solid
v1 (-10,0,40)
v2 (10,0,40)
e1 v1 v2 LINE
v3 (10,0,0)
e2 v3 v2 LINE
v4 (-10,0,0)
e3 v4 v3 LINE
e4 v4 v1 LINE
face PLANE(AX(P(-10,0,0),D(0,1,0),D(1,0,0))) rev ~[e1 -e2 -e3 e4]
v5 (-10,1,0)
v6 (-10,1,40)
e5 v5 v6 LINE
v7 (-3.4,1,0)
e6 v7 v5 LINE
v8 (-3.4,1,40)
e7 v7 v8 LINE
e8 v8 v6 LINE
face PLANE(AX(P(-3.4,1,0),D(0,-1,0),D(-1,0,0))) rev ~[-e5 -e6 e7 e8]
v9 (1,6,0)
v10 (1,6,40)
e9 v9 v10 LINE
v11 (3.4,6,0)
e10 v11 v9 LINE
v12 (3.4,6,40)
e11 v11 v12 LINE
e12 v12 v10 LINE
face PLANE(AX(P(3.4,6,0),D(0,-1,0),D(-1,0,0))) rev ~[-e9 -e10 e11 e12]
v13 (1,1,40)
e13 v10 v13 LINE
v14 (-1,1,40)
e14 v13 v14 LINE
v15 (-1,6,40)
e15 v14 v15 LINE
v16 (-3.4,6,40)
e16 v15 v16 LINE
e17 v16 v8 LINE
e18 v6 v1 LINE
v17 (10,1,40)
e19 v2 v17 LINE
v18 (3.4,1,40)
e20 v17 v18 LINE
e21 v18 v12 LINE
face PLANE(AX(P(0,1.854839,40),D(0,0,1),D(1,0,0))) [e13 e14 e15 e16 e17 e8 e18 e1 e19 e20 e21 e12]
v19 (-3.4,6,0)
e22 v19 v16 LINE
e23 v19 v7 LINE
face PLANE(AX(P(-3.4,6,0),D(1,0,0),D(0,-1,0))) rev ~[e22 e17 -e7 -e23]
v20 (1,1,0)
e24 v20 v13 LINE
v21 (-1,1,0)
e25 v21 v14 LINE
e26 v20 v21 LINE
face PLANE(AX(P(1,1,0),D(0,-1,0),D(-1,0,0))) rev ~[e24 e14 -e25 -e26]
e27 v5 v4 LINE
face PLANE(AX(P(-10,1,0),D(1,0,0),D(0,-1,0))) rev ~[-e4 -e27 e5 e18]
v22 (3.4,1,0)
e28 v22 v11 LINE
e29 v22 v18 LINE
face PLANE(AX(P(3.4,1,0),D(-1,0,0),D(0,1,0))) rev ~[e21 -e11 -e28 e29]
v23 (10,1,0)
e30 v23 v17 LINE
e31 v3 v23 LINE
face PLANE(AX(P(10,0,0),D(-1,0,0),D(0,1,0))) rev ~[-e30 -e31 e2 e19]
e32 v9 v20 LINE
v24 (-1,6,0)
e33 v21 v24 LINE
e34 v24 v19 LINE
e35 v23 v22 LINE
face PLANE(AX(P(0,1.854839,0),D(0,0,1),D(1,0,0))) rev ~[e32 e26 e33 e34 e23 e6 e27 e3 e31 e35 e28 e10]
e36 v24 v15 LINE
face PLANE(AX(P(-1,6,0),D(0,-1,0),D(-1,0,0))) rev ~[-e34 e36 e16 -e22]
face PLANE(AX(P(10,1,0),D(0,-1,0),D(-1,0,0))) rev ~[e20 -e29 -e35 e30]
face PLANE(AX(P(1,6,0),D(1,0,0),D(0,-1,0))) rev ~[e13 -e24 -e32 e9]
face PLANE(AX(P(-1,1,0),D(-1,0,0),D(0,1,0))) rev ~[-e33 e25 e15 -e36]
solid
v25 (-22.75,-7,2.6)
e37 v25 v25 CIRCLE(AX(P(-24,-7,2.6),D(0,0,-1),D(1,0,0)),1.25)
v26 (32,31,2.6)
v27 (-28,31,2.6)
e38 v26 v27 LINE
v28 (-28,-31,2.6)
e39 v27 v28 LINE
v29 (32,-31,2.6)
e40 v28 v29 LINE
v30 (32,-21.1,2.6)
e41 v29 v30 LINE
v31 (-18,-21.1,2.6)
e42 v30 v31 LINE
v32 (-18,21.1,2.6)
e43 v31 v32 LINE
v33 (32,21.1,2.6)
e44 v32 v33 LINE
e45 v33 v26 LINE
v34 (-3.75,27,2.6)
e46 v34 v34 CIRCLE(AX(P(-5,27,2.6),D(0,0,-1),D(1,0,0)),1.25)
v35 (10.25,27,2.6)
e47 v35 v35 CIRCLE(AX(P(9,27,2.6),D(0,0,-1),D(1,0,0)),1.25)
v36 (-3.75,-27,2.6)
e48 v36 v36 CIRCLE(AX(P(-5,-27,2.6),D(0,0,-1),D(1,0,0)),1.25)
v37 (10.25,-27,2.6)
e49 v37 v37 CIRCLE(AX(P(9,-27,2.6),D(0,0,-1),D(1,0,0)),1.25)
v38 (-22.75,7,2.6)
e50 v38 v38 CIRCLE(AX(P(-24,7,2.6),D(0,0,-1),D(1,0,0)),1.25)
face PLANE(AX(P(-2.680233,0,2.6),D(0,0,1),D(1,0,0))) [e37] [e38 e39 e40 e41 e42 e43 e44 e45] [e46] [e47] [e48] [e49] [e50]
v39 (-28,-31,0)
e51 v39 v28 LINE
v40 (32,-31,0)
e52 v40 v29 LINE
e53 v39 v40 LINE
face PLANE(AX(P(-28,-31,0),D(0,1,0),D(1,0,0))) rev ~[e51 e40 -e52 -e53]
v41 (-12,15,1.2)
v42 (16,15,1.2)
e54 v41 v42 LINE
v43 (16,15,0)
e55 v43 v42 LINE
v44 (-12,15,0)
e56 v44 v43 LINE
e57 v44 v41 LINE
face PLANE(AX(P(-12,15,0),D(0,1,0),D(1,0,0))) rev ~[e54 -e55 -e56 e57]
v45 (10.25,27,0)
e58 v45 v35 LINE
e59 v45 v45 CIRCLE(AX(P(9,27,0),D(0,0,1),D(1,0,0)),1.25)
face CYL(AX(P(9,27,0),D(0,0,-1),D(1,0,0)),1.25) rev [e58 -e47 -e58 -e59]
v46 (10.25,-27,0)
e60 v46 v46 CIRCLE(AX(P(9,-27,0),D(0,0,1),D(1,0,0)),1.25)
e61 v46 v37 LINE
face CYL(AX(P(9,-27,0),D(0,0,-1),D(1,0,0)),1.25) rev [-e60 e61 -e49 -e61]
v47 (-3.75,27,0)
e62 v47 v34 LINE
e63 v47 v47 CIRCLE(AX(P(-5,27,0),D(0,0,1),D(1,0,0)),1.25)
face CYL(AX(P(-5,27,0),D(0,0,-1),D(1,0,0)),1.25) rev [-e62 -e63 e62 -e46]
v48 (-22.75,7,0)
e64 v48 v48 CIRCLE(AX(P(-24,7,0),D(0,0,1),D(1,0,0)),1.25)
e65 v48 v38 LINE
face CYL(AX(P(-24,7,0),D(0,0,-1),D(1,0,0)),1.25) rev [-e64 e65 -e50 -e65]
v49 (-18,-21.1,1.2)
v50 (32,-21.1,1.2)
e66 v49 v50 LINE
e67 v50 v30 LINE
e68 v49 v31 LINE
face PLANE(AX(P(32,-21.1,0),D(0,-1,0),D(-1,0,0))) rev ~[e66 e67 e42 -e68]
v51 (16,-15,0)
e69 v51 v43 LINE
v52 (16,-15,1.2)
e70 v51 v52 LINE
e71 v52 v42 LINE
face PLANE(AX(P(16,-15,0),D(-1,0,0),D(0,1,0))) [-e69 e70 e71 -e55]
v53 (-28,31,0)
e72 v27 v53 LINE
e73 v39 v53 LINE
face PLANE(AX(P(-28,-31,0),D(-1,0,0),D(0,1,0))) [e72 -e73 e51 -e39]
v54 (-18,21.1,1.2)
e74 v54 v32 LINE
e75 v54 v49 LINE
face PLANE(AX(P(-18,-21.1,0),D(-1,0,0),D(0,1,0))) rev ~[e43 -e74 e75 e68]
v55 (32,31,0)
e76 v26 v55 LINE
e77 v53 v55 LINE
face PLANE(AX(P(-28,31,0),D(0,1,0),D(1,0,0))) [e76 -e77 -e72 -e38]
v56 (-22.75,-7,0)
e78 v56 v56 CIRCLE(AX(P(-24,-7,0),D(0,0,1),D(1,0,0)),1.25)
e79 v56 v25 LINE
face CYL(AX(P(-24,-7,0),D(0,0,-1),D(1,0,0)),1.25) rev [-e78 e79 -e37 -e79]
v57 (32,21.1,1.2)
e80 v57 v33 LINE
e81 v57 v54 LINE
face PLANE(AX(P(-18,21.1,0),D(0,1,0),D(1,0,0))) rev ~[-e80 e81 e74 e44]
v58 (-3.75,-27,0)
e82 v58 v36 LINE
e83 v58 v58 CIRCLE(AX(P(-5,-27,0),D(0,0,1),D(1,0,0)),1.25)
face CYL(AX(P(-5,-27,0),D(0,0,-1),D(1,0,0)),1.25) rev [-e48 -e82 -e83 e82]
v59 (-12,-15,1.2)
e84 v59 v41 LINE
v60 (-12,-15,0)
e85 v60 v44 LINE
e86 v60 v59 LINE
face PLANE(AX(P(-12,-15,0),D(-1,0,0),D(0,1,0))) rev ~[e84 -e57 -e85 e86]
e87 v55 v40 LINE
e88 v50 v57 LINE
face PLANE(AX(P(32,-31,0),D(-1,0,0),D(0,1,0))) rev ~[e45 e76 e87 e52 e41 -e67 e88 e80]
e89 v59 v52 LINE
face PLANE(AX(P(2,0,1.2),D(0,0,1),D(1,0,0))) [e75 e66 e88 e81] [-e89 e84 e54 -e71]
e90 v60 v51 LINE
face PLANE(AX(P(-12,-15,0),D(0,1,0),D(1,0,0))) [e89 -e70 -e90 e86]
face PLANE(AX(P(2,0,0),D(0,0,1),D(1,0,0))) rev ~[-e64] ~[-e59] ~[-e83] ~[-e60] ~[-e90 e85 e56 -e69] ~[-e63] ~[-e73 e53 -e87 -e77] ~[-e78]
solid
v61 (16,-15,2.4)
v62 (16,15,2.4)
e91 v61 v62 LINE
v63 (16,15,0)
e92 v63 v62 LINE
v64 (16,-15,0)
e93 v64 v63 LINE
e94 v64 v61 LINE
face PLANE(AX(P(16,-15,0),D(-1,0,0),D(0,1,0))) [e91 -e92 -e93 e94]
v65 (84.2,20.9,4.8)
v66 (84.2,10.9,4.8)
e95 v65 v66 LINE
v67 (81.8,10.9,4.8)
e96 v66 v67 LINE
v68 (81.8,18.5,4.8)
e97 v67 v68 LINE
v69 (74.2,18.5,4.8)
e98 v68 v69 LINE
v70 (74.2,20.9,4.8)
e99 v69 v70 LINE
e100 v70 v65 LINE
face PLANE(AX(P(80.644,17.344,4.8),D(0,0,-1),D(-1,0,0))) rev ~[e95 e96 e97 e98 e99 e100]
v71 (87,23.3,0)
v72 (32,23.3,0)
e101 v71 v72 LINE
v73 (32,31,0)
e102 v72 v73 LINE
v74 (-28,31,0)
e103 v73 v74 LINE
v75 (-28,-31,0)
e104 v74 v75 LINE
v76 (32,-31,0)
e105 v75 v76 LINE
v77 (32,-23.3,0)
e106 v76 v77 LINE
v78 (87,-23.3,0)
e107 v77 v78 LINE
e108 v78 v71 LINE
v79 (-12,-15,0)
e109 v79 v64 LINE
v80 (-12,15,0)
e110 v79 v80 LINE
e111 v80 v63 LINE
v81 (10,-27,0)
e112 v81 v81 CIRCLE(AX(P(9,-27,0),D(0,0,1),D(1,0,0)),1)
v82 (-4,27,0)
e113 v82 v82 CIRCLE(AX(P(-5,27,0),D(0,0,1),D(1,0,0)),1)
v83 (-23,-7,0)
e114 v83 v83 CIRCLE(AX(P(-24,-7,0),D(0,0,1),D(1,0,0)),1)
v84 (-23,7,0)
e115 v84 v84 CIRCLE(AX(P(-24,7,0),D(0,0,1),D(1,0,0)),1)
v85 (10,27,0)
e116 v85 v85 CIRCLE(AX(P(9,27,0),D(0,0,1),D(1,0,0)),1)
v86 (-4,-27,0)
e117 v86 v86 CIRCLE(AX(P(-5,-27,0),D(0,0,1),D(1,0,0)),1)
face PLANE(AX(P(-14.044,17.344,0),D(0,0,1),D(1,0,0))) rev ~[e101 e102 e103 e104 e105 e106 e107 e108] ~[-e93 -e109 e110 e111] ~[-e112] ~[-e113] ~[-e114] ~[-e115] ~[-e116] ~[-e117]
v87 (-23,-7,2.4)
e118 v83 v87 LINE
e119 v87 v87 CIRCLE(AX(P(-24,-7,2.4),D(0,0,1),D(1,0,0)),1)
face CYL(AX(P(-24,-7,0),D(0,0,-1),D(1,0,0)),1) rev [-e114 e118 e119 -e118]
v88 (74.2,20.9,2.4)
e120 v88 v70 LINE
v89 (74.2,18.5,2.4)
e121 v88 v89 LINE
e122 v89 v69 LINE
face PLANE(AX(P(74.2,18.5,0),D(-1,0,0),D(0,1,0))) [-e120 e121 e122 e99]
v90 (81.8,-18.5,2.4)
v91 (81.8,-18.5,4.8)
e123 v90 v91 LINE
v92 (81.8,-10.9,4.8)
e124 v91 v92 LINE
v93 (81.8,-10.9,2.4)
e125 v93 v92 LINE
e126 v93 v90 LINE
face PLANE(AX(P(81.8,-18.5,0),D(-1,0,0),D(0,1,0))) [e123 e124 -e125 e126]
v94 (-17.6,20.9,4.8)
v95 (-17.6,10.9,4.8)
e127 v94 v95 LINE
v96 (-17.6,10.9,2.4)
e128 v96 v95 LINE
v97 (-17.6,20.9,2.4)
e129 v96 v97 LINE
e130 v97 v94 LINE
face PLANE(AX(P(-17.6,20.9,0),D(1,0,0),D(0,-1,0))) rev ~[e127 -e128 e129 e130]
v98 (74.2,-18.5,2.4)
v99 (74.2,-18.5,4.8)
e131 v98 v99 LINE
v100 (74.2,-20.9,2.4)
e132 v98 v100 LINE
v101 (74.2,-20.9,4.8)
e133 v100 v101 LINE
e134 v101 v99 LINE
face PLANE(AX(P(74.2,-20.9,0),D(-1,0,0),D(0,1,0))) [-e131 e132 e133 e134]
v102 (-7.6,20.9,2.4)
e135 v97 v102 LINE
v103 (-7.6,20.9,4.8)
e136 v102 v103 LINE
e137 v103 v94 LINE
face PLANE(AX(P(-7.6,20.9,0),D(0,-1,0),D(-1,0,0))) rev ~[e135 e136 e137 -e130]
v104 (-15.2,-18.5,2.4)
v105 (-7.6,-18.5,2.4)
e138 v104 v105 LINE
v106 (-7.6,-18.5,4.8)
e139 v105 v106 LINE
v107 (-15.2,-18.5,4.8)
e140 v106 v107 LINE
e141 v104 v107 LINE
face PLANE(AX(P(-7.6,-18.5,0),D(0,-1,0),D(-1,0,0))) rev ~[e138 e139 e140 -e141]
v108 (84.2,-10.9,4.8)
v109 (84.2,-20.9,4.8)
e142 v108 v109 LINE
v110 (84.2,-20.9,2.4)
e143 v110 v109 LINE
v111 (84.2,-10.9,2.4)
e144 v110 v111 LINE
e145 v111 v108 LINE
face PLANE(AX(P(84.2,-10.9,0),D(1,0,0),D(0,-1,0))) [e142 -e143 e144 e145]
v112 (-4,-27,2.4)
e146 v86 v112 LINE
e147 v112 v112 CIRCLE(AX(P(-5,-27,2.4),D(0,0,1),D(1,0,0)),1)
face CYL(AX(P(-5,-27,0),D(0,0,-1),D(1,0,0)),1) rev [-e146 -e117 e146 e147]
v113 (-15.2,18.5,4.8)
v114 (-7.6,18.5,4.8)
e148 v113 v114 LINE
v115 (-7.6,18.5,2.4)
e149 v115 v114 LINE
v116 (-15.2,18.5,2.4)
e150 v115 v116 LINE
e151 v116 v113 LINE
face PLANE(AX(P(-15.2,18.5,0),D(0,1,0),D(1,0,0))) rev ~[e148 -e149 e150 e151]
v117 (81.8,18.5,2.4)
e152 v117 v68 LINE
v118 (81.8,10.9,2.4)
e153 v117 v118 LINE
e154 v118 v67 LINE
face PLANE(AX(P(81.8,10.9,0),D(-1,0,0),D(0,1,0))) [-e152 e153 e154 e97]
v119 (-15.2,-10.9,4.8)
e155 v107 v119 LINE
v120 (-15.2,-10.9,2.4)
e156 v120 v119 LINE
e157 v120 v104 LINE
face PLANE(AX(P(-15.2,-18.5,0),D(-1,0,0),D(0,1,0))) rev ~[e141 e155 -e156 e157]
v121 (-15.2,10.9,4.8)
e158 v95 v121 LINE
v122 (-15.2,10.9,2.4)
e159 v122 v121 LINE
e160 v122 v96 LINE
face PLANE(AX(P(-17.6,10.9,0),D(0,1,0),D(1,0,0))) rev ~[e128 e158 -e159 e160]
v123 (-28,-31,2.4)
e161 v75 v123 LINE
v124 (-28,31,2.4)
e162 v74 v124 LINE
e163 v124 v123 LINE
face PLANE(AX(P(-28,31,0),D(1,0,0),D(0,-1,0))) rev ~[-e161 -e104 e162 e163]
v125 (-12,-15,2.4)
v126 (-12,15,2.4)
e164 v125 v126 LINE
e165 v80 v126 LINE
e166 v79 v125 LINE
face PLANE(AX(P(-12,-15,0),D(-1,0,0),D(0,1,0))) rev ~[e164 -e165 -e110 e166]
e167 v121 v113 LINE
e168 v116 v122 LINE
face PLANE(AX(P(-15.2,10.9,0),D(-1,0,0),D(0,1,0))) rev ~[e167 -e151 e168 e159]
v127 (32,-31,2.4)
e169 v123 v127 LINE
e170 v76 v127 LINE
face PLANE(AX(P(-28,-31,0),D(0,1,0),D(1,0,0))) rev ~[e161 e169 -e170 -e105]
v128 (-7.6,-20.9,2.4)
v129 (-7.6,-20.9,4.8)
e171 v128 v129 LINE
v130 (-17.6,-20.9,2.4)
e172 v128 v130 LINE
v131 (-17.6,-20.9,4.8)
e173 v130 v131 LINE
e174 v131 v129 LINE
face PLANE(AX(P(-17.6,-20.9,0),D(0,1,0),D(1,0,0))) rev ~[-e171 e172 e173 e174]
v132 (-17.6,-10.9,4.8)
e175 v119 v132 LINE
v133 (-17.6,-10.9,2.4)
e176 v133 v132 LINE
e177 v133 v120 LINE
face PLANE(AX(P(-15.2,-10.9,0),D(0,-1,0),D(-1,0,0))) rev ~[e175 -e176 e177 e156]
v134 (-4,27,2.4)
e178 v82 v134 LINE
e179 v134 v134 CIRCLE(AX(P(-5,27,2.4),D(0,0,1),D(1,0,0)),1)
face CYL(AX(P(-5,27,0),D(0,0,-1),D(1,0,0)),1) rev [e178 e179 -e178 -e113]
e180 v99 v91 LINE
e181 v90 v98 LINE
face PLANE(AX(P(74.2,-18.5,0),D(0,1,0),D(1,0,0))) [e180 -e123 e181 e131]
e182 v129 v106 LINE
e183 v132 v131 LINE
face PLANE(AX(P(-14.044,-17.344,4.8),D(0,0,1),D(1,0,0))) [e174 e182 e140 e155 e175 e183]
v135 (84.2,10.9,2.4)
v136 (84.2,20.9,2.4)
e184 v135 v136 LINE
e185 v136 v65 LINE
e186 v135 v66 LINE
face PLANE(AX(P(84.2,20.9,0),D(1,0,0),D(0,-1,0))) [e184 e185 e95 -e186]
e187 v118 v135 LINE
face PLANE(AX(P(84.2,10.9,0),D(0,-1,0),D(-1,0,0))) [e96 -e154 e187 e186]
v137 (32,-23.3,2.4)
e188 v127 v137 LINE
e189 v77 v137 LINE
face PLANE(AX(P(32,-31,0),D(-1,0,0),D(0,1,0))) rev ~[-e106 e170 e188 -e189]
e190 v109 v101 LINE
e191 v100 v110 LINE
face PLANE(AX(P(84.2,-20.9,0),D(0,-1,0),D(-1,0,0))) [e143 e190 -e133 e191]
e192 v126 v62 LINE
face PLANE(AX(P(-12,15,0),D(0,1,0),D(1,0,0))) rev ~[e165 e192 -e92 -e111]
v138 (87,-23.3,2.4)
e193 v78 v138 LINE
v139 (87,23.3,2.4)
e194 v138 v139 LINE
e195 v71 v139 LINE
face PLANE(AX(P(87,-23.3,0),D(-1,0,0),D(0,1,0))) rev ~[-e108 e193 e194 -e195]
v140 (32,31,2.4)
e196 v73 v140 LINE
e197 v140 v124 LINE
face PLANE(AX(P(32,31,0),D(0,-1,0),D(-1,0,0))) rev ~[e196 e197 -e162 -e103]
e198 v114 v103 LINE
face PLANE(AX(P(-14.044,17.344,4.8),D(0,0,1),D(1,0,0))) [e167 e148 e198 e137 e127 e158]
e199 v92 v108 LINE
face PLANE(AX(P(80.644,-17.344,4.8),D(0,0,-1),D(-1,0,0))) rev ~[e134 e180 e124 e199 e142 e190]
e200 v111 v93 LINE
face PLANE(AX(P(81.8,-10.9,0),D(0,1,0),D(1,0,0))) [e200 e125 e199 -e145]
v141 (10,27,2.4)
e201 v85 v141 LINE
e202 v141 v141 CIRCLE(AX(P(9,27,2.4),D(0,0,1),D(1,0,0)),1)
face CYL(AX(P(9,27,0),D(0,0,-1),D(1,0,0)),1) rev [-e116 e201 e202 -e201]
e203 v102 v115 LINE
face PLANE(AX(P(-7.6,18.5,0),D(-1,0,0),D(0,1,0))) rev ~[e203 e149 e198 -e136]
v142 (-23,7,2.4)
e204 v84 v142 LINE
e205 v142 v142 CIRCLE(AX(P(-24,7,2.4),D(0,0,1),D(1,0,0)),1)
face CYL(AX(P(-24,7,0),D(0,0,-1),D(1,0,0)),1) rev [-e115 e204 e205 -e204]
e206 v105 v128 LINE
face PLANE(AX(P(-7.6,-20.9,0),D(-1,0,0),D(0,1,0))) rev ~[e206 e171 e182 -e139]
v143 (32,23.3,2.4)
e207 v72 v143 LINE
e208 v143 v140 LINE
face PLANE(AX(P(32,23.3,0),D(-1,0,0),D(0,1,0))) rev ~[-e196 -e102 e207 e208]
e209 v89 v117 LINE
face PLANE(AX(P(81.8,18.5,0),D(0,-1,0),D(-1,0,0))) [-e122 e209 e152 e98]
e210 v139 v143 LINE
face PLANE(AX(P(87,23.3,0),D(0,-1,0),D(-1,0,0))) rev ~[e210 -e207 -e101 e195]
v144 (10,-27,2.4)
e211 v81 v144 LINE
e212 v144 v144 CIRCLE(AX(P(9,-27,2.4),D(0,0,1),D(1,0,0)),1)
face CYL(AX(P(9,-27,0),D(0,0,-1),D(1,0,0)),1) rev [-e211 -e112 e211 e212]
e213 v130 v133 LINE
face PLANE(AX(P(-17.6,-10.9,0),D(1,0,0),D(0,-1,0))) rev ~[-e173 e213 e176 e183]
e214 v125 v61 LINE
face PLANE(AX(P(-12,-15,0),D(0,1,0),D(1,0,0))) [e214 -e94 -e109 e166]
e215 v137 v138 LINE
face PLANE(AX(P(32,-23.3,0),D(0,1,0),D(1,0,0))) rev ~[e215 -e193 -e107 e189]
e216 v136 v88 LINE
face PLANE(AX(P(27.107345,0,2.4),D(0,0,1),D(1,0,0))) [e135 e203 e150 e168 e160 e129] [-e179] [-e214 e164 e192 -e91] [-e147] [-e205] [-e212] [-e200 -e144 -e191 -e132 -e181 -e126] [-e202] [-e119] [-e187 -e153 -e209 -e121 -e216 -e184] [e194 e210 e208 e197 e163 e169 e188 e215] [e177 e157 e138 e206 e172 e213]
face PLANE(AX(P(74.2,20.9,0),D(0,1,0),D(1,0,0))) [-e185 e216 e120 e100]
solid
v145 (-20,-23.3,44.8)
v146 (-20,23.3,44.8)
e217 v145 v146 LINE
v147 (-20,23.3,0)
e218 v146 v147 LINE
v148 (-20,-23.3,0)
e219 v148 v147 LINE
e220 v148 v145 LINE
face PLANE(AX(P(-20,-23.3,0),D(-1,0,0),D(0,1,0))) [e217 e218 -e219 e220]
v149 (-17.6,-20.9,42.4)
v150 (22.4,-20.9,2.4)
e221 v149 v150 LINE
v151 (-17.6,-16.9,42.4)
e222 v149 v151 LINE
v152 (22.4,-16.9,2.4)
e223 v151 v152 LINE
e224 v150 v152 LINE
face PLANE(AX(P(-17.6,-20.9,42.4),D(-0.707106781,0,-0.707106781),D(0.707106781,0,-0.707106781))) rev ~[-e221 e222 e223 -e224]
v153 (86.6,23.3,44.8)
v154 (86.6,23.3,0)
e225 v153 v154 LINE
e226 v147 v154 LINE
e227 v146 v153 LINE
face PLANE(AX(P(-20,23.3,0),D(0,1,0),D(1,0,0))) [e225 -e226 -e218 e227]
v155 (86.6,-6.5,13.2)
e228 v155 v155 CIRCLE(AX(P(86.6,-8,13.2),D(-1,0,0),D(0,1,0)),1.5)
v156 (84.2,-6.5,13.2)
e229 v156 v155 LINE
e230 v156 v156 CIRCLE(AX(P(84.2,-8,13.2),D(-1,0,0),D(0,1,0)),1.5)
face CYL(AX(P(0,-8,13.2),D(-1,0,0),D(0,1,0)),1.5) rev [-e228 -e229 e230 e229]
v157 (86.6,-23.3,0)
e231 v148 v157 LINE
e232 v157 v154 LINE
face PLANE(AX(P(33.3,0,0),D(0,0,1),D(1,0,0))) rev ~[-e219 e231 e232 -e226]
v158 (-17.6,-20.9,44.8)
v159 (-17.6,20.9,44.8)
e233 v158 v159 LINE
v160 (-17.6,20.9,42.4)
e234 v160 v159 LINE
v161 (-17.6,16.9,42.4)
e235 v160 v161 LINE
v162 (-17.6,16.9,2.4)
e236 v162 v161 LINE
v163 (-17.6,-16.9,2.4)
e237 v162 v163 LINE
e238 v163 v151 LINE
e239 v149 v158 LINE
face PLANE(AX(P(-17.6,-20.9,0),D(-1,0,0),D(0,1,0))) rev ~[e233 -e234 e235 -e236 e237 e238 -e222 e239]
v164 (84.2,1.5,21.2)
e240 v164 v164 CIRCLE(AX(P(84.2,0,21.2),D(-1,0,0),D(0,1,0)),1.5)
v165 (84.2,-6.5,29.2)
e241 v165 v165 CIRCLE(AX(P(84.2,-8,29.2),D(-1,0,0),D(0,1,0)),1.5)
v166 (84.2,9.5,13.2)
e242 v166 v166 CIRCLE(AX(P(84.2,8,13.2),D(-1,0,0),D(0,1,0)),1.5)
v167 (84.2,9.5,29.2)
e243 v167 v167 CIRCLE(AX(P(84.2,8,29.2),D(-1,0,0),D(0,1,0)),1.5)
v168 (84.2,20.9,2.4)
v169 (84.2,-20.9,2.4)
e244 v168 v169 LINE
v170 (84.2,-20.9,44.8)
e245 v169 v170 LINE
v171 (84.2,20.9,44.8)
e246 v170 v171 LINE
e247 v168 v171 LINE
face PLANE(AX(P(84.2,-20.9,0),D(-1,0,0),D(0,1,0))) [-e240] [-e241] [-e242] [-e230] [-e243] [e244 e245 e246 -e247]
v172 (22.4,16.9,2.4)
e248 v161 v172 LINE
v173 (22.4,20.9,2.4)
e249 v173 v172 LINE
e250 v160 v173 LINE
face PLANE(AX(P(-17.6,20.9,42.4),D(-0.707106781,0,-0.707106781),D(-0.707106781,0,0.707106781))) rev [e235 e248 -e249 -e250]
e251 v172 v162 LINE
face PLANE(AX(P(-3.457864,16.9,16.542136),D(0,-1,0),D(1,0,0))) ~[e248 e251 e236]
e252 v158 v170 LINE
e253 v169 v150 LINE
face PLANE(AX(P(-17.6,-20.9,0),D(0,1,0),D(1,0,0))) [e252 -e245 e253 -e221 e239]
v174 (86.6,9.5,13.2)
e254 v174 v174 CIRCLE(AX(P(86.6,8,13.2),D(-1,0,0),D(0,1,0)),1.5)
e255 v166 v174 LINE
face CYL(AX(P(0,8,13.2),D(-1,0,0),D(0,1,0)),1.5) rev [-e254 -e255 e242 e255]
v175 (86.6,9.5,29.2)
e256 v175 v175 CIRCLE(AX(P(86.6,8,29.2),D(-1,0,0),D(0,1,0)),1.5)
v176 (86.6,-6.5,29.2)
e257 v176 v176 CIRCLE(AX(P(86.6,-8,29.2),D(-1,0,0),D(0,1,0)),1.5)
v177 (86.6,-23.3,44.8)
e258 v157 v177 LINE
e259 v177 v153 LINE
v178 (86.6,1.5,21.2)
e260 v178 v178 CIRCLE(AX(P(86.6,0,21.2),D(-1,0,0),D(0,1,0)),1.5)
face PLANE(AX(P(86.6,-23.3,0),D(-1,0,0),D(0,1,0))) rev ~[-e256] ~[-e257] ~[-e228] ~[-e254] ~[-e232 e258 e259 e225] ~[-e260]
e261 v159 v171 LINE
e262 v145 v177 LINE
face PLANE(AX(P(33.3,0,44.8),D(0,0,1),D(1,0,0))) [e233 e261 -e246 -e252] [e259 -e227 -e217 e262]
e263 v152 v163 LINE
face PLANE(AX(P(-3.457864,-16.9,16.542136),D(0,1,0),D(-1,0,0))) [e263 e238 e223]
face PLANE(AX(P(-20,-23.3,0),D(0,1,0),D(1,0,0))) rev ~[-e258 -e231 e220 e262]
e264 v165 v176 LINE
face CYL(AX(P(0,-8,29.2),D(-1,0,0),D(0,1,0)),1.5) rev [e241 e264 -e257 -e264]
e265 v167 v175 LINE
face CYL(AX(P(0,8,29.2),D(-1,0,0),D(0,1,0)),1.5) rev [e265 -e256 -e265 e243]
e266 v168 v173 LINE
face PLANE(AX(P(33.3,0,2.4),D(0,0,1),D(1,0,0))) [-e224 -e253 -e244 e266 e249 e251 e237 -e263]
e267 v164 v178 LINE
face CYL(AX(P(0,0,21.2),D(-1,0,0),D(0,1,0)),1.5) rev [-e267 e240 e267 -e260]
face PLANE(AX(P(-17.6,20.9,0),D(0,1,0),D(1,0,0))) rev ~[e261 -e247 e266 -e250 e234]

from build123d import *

# Parameters (mm, degrees)
SKETCH_W             = 106.6
SKETCH_H             = 46.6
PAD_DEPTH            = 2.4
SKETCH001_W          = 106.6
SKETCH001_H          = 46.6
SKETCH001_W_2        = 101.8
SKETCH001_H_2        = 41.8
PAD001_DEPTH         = 44.8
PAD002_DEPTH         = 4
SKETCH003_R          = 1.5
POCKET_DEPTH         = 86.601
PAD003_DEPTH         = 40
SKETCH005_R          = 1
SKETCH005_W          = 28
SKETCH005_H          = 30
PAD005_DEPTH         = 2.4
PAD006_DEPTH         = 4.8
SKETCH007_W          = 60
SKETCH007_H          = 62
SKETCH007_R          = 1.25
SKETCH007_W_2        = 28
SKETCH007_H_2        = 30
PAD007_DEPTH         = 1.2
PAD008_DEPTH         = 2.6
SKETCH009_R          = 1.25
POCKET001_DEPTH      = 0.001
POCKET001_DEPTH_BACK = 2.601


with BuildPart() as box:
    # Sketch → Pad (new body)
    with BuildSketch(Plane.XY):
        with Locations((33.3, 0)):
            Rectangle(SKETCH_W, SKETCH_H)
    extrude(amount=PAD_DEPTH)

    # Sketch001 → Pad001 (join)
    with BuildSketch(Plane.XY):
        with Locations((33.3, 0)):
            Rectangle(SKETCH001_W, SKETCH001_H)
        with Locations((33.3, 0)):
            Rectangle(SKETCH001_W_2, SKETCH001_H_2, mode=Mode.SUBTRACT)
    extrude(amount=PAD001_DEPTH)

    # Sketch002 → Pad002 (join)
    with BuildSketch(Plane.XZ.offset(20.9)):
        Polygon((-17.6, 42.4), (22.4, 2.4), (-17.6, 2.4), align=None)
    pad002 = extrude(amount=-PAD002_DEPTH)

    # Mirrored: Pad002 across XZ
    add(pad002.mirror(Plane.XZ))

    # Sketch003 → Pocket (cut, through all)
    with BuildSketch(Plane.YZ):
        with Locations((0, 21.2)):
            Circle(SKETCH003_R)
        with Locations((-8, 13.2)):
            Circle(SKETCH003_R)
        with Locations((8, 29.2)):
            Circle(SKETCH003_R)
        with Locations((-8, 29.2)):
            Circle(SKETCH003_R)
        with Locations((8, 13.2)):
            Circle(SKETCH003_R)
    extrude(amount=POCKET_DEPTH, mode=Mode.SUBTRACT)


with BuildPart() as paper_holder:
    # Sketch004 → Pad003 (new body)
    with BuildSketch(Plane.XY):
        Polygon((-10, 0), (10, 0), (10, 1), (3.4, 1), (3.4, 6), (1, 6), (1, 1), (-1, 1), (-1, 6), (-3.4, 6), (-3.4, 1), (-10, 1), align=None)
    extrude(amount=PAD003_DEPTH)


with BuildPart() as lid:
    # Sketch005 → Pad005 (new body)
    with BuildSketch(Plane.XY):
        Polygon((87, -23.3), (87, 23.3), (32, 23.3), (32, 31), (-28, 31), (-28, -31), (32, -31), (32, -23.3), align=None)
        with Locations((-5, 27)):
            Circle(SKETCH005_R, mode=Mode.SUBTRACT)
        with Locations((9, 27)):
            Circle(SKETCH005_R, mode=Mode.SUBTRACT)
        with Locations((-5, -27)):
            Circle(SKETCH005_R, mode=Mode.SUBTRACT)
        with Locations((9, -27)):
            Circle(SKETCH005_R, mode=Mode.SUBTRACT)
        with Locations((-24, 7)):
            Circle(SKETCH005_R, mode=Mode.SUBTRACT)
        with Locations((-24, -7)):
            Circle(SKETCH005_R, mode=Mode.SUBTRACT)
        with Locations((2, 0)):
            Rectangle(SKETCH005_W, SKETCH005_H, mode=Mode.SUBTRACT)
    extrude(amount=PAD005_DEPTH)

    # Sketch006 → Pad006 (join)
    with BuildSketch(Plane.XY):
        Polygon((-7.6, 20.9), (-17.6, 20.9), (-17.6, 10.9), (-15.2, 10.9), (-15.2, 18.5), (-7.6, 18.5), align=None)
        Polygon((74.2, 20.9), (84.2, 20.9), (84.2, 10.9), (81.8, 10.9), (81.8, 18.5), (74.2, 18.5), align=None)
        Polygon((84.2, -10.9), (84.2, -20.9), (74.2, -20.9), (74.2, -18.5), (81.8, -18.5), (81.8, -10.9), align=None)
        Polygon((-17.6, -10.9), (-17.6, -20.9), (-7.6, -20.9), (-7.6, -18.5), (-15.2, -18.5), (-15.2, -10.9), align=None)
    extrude(amount=PAD006_DEPTH)


with BuildPart() as lid_top:
    # Sketch007 → Pad007 (new body)
    with BuildSketch(Plane.XY):
        with Locations((2, 0)):
            Rectangle(SKETCH007_W, SKETCH007_H)
        with Locations((-5, 27)):
            Circle(SKETCH007_R, mode=Mode.SUBTRACT)
        with Locations((9, 27)):
            Circle(SKETCH007_R, mode=Mode.SUBTRACT)
        with Locations((-5, -27)):
            Circle(SKETCH007_R, mode=Mode.SUBTRACT)
        with Locations((9, -27)):
            Circle(SKETCH007_R, mode=Mode.SUBTRACT)
        with Locations((-24, 7)):
            Circle(SKETCH007_R, mode=Mode.SUBTRACT)
        with Locations((-24, -7)):
            Circle(SKETCH007_R, mode=Mode.SUBTRACT)
        with Locations((2, 0)):
            Rectangle(SKETCH007_W_2, SKETCH007_H_2, mode=Mode.SUBTRACT)
    extrude(amount=PAD007_DEPTH)

    # Sketch008 → Pad008 (join)
    with BuildSketch(Plane.XY):
        Polygon((-28, 31), (-28, -31), (32, -31), (32, -21.1), (-18, -21.1), (-18, 21.1), (32, 21.1), (32, 31), align=None)
    extrude(amount=PAD008_DEPTH)

    # Sketch009 → Pocket001 (cut, two sides)
    with BuildSketch(Plane.XY) as pocket001_sk:
        with Locations((-5, 27)):
            Circle(SKETCH009_R)
        with Locations((9, 27)):
            Circle(SKETCH009_R)
        with Locations((-5, -27)):
            Circle(SKETCH009_R)
        with Locations((9, -27)):
            Circle(SKETCH009_R)
        with Locations((-24, 7)):
            Circle(SKETCH009_R)
        with Locations((-24, -7)):
            Circle(SKETCH009_R)
    extrude(amount=-POCKET001_DEPTH, mode=Mode.SUBTRACT)
    extrude(pocket001_sk.sketch, amount=POCKET001_DEPTH_BACK, mode=Mode.SUBTRACT)


solid = Compound([box.part, paper_holder.part, lid.part, lid_top.part])
